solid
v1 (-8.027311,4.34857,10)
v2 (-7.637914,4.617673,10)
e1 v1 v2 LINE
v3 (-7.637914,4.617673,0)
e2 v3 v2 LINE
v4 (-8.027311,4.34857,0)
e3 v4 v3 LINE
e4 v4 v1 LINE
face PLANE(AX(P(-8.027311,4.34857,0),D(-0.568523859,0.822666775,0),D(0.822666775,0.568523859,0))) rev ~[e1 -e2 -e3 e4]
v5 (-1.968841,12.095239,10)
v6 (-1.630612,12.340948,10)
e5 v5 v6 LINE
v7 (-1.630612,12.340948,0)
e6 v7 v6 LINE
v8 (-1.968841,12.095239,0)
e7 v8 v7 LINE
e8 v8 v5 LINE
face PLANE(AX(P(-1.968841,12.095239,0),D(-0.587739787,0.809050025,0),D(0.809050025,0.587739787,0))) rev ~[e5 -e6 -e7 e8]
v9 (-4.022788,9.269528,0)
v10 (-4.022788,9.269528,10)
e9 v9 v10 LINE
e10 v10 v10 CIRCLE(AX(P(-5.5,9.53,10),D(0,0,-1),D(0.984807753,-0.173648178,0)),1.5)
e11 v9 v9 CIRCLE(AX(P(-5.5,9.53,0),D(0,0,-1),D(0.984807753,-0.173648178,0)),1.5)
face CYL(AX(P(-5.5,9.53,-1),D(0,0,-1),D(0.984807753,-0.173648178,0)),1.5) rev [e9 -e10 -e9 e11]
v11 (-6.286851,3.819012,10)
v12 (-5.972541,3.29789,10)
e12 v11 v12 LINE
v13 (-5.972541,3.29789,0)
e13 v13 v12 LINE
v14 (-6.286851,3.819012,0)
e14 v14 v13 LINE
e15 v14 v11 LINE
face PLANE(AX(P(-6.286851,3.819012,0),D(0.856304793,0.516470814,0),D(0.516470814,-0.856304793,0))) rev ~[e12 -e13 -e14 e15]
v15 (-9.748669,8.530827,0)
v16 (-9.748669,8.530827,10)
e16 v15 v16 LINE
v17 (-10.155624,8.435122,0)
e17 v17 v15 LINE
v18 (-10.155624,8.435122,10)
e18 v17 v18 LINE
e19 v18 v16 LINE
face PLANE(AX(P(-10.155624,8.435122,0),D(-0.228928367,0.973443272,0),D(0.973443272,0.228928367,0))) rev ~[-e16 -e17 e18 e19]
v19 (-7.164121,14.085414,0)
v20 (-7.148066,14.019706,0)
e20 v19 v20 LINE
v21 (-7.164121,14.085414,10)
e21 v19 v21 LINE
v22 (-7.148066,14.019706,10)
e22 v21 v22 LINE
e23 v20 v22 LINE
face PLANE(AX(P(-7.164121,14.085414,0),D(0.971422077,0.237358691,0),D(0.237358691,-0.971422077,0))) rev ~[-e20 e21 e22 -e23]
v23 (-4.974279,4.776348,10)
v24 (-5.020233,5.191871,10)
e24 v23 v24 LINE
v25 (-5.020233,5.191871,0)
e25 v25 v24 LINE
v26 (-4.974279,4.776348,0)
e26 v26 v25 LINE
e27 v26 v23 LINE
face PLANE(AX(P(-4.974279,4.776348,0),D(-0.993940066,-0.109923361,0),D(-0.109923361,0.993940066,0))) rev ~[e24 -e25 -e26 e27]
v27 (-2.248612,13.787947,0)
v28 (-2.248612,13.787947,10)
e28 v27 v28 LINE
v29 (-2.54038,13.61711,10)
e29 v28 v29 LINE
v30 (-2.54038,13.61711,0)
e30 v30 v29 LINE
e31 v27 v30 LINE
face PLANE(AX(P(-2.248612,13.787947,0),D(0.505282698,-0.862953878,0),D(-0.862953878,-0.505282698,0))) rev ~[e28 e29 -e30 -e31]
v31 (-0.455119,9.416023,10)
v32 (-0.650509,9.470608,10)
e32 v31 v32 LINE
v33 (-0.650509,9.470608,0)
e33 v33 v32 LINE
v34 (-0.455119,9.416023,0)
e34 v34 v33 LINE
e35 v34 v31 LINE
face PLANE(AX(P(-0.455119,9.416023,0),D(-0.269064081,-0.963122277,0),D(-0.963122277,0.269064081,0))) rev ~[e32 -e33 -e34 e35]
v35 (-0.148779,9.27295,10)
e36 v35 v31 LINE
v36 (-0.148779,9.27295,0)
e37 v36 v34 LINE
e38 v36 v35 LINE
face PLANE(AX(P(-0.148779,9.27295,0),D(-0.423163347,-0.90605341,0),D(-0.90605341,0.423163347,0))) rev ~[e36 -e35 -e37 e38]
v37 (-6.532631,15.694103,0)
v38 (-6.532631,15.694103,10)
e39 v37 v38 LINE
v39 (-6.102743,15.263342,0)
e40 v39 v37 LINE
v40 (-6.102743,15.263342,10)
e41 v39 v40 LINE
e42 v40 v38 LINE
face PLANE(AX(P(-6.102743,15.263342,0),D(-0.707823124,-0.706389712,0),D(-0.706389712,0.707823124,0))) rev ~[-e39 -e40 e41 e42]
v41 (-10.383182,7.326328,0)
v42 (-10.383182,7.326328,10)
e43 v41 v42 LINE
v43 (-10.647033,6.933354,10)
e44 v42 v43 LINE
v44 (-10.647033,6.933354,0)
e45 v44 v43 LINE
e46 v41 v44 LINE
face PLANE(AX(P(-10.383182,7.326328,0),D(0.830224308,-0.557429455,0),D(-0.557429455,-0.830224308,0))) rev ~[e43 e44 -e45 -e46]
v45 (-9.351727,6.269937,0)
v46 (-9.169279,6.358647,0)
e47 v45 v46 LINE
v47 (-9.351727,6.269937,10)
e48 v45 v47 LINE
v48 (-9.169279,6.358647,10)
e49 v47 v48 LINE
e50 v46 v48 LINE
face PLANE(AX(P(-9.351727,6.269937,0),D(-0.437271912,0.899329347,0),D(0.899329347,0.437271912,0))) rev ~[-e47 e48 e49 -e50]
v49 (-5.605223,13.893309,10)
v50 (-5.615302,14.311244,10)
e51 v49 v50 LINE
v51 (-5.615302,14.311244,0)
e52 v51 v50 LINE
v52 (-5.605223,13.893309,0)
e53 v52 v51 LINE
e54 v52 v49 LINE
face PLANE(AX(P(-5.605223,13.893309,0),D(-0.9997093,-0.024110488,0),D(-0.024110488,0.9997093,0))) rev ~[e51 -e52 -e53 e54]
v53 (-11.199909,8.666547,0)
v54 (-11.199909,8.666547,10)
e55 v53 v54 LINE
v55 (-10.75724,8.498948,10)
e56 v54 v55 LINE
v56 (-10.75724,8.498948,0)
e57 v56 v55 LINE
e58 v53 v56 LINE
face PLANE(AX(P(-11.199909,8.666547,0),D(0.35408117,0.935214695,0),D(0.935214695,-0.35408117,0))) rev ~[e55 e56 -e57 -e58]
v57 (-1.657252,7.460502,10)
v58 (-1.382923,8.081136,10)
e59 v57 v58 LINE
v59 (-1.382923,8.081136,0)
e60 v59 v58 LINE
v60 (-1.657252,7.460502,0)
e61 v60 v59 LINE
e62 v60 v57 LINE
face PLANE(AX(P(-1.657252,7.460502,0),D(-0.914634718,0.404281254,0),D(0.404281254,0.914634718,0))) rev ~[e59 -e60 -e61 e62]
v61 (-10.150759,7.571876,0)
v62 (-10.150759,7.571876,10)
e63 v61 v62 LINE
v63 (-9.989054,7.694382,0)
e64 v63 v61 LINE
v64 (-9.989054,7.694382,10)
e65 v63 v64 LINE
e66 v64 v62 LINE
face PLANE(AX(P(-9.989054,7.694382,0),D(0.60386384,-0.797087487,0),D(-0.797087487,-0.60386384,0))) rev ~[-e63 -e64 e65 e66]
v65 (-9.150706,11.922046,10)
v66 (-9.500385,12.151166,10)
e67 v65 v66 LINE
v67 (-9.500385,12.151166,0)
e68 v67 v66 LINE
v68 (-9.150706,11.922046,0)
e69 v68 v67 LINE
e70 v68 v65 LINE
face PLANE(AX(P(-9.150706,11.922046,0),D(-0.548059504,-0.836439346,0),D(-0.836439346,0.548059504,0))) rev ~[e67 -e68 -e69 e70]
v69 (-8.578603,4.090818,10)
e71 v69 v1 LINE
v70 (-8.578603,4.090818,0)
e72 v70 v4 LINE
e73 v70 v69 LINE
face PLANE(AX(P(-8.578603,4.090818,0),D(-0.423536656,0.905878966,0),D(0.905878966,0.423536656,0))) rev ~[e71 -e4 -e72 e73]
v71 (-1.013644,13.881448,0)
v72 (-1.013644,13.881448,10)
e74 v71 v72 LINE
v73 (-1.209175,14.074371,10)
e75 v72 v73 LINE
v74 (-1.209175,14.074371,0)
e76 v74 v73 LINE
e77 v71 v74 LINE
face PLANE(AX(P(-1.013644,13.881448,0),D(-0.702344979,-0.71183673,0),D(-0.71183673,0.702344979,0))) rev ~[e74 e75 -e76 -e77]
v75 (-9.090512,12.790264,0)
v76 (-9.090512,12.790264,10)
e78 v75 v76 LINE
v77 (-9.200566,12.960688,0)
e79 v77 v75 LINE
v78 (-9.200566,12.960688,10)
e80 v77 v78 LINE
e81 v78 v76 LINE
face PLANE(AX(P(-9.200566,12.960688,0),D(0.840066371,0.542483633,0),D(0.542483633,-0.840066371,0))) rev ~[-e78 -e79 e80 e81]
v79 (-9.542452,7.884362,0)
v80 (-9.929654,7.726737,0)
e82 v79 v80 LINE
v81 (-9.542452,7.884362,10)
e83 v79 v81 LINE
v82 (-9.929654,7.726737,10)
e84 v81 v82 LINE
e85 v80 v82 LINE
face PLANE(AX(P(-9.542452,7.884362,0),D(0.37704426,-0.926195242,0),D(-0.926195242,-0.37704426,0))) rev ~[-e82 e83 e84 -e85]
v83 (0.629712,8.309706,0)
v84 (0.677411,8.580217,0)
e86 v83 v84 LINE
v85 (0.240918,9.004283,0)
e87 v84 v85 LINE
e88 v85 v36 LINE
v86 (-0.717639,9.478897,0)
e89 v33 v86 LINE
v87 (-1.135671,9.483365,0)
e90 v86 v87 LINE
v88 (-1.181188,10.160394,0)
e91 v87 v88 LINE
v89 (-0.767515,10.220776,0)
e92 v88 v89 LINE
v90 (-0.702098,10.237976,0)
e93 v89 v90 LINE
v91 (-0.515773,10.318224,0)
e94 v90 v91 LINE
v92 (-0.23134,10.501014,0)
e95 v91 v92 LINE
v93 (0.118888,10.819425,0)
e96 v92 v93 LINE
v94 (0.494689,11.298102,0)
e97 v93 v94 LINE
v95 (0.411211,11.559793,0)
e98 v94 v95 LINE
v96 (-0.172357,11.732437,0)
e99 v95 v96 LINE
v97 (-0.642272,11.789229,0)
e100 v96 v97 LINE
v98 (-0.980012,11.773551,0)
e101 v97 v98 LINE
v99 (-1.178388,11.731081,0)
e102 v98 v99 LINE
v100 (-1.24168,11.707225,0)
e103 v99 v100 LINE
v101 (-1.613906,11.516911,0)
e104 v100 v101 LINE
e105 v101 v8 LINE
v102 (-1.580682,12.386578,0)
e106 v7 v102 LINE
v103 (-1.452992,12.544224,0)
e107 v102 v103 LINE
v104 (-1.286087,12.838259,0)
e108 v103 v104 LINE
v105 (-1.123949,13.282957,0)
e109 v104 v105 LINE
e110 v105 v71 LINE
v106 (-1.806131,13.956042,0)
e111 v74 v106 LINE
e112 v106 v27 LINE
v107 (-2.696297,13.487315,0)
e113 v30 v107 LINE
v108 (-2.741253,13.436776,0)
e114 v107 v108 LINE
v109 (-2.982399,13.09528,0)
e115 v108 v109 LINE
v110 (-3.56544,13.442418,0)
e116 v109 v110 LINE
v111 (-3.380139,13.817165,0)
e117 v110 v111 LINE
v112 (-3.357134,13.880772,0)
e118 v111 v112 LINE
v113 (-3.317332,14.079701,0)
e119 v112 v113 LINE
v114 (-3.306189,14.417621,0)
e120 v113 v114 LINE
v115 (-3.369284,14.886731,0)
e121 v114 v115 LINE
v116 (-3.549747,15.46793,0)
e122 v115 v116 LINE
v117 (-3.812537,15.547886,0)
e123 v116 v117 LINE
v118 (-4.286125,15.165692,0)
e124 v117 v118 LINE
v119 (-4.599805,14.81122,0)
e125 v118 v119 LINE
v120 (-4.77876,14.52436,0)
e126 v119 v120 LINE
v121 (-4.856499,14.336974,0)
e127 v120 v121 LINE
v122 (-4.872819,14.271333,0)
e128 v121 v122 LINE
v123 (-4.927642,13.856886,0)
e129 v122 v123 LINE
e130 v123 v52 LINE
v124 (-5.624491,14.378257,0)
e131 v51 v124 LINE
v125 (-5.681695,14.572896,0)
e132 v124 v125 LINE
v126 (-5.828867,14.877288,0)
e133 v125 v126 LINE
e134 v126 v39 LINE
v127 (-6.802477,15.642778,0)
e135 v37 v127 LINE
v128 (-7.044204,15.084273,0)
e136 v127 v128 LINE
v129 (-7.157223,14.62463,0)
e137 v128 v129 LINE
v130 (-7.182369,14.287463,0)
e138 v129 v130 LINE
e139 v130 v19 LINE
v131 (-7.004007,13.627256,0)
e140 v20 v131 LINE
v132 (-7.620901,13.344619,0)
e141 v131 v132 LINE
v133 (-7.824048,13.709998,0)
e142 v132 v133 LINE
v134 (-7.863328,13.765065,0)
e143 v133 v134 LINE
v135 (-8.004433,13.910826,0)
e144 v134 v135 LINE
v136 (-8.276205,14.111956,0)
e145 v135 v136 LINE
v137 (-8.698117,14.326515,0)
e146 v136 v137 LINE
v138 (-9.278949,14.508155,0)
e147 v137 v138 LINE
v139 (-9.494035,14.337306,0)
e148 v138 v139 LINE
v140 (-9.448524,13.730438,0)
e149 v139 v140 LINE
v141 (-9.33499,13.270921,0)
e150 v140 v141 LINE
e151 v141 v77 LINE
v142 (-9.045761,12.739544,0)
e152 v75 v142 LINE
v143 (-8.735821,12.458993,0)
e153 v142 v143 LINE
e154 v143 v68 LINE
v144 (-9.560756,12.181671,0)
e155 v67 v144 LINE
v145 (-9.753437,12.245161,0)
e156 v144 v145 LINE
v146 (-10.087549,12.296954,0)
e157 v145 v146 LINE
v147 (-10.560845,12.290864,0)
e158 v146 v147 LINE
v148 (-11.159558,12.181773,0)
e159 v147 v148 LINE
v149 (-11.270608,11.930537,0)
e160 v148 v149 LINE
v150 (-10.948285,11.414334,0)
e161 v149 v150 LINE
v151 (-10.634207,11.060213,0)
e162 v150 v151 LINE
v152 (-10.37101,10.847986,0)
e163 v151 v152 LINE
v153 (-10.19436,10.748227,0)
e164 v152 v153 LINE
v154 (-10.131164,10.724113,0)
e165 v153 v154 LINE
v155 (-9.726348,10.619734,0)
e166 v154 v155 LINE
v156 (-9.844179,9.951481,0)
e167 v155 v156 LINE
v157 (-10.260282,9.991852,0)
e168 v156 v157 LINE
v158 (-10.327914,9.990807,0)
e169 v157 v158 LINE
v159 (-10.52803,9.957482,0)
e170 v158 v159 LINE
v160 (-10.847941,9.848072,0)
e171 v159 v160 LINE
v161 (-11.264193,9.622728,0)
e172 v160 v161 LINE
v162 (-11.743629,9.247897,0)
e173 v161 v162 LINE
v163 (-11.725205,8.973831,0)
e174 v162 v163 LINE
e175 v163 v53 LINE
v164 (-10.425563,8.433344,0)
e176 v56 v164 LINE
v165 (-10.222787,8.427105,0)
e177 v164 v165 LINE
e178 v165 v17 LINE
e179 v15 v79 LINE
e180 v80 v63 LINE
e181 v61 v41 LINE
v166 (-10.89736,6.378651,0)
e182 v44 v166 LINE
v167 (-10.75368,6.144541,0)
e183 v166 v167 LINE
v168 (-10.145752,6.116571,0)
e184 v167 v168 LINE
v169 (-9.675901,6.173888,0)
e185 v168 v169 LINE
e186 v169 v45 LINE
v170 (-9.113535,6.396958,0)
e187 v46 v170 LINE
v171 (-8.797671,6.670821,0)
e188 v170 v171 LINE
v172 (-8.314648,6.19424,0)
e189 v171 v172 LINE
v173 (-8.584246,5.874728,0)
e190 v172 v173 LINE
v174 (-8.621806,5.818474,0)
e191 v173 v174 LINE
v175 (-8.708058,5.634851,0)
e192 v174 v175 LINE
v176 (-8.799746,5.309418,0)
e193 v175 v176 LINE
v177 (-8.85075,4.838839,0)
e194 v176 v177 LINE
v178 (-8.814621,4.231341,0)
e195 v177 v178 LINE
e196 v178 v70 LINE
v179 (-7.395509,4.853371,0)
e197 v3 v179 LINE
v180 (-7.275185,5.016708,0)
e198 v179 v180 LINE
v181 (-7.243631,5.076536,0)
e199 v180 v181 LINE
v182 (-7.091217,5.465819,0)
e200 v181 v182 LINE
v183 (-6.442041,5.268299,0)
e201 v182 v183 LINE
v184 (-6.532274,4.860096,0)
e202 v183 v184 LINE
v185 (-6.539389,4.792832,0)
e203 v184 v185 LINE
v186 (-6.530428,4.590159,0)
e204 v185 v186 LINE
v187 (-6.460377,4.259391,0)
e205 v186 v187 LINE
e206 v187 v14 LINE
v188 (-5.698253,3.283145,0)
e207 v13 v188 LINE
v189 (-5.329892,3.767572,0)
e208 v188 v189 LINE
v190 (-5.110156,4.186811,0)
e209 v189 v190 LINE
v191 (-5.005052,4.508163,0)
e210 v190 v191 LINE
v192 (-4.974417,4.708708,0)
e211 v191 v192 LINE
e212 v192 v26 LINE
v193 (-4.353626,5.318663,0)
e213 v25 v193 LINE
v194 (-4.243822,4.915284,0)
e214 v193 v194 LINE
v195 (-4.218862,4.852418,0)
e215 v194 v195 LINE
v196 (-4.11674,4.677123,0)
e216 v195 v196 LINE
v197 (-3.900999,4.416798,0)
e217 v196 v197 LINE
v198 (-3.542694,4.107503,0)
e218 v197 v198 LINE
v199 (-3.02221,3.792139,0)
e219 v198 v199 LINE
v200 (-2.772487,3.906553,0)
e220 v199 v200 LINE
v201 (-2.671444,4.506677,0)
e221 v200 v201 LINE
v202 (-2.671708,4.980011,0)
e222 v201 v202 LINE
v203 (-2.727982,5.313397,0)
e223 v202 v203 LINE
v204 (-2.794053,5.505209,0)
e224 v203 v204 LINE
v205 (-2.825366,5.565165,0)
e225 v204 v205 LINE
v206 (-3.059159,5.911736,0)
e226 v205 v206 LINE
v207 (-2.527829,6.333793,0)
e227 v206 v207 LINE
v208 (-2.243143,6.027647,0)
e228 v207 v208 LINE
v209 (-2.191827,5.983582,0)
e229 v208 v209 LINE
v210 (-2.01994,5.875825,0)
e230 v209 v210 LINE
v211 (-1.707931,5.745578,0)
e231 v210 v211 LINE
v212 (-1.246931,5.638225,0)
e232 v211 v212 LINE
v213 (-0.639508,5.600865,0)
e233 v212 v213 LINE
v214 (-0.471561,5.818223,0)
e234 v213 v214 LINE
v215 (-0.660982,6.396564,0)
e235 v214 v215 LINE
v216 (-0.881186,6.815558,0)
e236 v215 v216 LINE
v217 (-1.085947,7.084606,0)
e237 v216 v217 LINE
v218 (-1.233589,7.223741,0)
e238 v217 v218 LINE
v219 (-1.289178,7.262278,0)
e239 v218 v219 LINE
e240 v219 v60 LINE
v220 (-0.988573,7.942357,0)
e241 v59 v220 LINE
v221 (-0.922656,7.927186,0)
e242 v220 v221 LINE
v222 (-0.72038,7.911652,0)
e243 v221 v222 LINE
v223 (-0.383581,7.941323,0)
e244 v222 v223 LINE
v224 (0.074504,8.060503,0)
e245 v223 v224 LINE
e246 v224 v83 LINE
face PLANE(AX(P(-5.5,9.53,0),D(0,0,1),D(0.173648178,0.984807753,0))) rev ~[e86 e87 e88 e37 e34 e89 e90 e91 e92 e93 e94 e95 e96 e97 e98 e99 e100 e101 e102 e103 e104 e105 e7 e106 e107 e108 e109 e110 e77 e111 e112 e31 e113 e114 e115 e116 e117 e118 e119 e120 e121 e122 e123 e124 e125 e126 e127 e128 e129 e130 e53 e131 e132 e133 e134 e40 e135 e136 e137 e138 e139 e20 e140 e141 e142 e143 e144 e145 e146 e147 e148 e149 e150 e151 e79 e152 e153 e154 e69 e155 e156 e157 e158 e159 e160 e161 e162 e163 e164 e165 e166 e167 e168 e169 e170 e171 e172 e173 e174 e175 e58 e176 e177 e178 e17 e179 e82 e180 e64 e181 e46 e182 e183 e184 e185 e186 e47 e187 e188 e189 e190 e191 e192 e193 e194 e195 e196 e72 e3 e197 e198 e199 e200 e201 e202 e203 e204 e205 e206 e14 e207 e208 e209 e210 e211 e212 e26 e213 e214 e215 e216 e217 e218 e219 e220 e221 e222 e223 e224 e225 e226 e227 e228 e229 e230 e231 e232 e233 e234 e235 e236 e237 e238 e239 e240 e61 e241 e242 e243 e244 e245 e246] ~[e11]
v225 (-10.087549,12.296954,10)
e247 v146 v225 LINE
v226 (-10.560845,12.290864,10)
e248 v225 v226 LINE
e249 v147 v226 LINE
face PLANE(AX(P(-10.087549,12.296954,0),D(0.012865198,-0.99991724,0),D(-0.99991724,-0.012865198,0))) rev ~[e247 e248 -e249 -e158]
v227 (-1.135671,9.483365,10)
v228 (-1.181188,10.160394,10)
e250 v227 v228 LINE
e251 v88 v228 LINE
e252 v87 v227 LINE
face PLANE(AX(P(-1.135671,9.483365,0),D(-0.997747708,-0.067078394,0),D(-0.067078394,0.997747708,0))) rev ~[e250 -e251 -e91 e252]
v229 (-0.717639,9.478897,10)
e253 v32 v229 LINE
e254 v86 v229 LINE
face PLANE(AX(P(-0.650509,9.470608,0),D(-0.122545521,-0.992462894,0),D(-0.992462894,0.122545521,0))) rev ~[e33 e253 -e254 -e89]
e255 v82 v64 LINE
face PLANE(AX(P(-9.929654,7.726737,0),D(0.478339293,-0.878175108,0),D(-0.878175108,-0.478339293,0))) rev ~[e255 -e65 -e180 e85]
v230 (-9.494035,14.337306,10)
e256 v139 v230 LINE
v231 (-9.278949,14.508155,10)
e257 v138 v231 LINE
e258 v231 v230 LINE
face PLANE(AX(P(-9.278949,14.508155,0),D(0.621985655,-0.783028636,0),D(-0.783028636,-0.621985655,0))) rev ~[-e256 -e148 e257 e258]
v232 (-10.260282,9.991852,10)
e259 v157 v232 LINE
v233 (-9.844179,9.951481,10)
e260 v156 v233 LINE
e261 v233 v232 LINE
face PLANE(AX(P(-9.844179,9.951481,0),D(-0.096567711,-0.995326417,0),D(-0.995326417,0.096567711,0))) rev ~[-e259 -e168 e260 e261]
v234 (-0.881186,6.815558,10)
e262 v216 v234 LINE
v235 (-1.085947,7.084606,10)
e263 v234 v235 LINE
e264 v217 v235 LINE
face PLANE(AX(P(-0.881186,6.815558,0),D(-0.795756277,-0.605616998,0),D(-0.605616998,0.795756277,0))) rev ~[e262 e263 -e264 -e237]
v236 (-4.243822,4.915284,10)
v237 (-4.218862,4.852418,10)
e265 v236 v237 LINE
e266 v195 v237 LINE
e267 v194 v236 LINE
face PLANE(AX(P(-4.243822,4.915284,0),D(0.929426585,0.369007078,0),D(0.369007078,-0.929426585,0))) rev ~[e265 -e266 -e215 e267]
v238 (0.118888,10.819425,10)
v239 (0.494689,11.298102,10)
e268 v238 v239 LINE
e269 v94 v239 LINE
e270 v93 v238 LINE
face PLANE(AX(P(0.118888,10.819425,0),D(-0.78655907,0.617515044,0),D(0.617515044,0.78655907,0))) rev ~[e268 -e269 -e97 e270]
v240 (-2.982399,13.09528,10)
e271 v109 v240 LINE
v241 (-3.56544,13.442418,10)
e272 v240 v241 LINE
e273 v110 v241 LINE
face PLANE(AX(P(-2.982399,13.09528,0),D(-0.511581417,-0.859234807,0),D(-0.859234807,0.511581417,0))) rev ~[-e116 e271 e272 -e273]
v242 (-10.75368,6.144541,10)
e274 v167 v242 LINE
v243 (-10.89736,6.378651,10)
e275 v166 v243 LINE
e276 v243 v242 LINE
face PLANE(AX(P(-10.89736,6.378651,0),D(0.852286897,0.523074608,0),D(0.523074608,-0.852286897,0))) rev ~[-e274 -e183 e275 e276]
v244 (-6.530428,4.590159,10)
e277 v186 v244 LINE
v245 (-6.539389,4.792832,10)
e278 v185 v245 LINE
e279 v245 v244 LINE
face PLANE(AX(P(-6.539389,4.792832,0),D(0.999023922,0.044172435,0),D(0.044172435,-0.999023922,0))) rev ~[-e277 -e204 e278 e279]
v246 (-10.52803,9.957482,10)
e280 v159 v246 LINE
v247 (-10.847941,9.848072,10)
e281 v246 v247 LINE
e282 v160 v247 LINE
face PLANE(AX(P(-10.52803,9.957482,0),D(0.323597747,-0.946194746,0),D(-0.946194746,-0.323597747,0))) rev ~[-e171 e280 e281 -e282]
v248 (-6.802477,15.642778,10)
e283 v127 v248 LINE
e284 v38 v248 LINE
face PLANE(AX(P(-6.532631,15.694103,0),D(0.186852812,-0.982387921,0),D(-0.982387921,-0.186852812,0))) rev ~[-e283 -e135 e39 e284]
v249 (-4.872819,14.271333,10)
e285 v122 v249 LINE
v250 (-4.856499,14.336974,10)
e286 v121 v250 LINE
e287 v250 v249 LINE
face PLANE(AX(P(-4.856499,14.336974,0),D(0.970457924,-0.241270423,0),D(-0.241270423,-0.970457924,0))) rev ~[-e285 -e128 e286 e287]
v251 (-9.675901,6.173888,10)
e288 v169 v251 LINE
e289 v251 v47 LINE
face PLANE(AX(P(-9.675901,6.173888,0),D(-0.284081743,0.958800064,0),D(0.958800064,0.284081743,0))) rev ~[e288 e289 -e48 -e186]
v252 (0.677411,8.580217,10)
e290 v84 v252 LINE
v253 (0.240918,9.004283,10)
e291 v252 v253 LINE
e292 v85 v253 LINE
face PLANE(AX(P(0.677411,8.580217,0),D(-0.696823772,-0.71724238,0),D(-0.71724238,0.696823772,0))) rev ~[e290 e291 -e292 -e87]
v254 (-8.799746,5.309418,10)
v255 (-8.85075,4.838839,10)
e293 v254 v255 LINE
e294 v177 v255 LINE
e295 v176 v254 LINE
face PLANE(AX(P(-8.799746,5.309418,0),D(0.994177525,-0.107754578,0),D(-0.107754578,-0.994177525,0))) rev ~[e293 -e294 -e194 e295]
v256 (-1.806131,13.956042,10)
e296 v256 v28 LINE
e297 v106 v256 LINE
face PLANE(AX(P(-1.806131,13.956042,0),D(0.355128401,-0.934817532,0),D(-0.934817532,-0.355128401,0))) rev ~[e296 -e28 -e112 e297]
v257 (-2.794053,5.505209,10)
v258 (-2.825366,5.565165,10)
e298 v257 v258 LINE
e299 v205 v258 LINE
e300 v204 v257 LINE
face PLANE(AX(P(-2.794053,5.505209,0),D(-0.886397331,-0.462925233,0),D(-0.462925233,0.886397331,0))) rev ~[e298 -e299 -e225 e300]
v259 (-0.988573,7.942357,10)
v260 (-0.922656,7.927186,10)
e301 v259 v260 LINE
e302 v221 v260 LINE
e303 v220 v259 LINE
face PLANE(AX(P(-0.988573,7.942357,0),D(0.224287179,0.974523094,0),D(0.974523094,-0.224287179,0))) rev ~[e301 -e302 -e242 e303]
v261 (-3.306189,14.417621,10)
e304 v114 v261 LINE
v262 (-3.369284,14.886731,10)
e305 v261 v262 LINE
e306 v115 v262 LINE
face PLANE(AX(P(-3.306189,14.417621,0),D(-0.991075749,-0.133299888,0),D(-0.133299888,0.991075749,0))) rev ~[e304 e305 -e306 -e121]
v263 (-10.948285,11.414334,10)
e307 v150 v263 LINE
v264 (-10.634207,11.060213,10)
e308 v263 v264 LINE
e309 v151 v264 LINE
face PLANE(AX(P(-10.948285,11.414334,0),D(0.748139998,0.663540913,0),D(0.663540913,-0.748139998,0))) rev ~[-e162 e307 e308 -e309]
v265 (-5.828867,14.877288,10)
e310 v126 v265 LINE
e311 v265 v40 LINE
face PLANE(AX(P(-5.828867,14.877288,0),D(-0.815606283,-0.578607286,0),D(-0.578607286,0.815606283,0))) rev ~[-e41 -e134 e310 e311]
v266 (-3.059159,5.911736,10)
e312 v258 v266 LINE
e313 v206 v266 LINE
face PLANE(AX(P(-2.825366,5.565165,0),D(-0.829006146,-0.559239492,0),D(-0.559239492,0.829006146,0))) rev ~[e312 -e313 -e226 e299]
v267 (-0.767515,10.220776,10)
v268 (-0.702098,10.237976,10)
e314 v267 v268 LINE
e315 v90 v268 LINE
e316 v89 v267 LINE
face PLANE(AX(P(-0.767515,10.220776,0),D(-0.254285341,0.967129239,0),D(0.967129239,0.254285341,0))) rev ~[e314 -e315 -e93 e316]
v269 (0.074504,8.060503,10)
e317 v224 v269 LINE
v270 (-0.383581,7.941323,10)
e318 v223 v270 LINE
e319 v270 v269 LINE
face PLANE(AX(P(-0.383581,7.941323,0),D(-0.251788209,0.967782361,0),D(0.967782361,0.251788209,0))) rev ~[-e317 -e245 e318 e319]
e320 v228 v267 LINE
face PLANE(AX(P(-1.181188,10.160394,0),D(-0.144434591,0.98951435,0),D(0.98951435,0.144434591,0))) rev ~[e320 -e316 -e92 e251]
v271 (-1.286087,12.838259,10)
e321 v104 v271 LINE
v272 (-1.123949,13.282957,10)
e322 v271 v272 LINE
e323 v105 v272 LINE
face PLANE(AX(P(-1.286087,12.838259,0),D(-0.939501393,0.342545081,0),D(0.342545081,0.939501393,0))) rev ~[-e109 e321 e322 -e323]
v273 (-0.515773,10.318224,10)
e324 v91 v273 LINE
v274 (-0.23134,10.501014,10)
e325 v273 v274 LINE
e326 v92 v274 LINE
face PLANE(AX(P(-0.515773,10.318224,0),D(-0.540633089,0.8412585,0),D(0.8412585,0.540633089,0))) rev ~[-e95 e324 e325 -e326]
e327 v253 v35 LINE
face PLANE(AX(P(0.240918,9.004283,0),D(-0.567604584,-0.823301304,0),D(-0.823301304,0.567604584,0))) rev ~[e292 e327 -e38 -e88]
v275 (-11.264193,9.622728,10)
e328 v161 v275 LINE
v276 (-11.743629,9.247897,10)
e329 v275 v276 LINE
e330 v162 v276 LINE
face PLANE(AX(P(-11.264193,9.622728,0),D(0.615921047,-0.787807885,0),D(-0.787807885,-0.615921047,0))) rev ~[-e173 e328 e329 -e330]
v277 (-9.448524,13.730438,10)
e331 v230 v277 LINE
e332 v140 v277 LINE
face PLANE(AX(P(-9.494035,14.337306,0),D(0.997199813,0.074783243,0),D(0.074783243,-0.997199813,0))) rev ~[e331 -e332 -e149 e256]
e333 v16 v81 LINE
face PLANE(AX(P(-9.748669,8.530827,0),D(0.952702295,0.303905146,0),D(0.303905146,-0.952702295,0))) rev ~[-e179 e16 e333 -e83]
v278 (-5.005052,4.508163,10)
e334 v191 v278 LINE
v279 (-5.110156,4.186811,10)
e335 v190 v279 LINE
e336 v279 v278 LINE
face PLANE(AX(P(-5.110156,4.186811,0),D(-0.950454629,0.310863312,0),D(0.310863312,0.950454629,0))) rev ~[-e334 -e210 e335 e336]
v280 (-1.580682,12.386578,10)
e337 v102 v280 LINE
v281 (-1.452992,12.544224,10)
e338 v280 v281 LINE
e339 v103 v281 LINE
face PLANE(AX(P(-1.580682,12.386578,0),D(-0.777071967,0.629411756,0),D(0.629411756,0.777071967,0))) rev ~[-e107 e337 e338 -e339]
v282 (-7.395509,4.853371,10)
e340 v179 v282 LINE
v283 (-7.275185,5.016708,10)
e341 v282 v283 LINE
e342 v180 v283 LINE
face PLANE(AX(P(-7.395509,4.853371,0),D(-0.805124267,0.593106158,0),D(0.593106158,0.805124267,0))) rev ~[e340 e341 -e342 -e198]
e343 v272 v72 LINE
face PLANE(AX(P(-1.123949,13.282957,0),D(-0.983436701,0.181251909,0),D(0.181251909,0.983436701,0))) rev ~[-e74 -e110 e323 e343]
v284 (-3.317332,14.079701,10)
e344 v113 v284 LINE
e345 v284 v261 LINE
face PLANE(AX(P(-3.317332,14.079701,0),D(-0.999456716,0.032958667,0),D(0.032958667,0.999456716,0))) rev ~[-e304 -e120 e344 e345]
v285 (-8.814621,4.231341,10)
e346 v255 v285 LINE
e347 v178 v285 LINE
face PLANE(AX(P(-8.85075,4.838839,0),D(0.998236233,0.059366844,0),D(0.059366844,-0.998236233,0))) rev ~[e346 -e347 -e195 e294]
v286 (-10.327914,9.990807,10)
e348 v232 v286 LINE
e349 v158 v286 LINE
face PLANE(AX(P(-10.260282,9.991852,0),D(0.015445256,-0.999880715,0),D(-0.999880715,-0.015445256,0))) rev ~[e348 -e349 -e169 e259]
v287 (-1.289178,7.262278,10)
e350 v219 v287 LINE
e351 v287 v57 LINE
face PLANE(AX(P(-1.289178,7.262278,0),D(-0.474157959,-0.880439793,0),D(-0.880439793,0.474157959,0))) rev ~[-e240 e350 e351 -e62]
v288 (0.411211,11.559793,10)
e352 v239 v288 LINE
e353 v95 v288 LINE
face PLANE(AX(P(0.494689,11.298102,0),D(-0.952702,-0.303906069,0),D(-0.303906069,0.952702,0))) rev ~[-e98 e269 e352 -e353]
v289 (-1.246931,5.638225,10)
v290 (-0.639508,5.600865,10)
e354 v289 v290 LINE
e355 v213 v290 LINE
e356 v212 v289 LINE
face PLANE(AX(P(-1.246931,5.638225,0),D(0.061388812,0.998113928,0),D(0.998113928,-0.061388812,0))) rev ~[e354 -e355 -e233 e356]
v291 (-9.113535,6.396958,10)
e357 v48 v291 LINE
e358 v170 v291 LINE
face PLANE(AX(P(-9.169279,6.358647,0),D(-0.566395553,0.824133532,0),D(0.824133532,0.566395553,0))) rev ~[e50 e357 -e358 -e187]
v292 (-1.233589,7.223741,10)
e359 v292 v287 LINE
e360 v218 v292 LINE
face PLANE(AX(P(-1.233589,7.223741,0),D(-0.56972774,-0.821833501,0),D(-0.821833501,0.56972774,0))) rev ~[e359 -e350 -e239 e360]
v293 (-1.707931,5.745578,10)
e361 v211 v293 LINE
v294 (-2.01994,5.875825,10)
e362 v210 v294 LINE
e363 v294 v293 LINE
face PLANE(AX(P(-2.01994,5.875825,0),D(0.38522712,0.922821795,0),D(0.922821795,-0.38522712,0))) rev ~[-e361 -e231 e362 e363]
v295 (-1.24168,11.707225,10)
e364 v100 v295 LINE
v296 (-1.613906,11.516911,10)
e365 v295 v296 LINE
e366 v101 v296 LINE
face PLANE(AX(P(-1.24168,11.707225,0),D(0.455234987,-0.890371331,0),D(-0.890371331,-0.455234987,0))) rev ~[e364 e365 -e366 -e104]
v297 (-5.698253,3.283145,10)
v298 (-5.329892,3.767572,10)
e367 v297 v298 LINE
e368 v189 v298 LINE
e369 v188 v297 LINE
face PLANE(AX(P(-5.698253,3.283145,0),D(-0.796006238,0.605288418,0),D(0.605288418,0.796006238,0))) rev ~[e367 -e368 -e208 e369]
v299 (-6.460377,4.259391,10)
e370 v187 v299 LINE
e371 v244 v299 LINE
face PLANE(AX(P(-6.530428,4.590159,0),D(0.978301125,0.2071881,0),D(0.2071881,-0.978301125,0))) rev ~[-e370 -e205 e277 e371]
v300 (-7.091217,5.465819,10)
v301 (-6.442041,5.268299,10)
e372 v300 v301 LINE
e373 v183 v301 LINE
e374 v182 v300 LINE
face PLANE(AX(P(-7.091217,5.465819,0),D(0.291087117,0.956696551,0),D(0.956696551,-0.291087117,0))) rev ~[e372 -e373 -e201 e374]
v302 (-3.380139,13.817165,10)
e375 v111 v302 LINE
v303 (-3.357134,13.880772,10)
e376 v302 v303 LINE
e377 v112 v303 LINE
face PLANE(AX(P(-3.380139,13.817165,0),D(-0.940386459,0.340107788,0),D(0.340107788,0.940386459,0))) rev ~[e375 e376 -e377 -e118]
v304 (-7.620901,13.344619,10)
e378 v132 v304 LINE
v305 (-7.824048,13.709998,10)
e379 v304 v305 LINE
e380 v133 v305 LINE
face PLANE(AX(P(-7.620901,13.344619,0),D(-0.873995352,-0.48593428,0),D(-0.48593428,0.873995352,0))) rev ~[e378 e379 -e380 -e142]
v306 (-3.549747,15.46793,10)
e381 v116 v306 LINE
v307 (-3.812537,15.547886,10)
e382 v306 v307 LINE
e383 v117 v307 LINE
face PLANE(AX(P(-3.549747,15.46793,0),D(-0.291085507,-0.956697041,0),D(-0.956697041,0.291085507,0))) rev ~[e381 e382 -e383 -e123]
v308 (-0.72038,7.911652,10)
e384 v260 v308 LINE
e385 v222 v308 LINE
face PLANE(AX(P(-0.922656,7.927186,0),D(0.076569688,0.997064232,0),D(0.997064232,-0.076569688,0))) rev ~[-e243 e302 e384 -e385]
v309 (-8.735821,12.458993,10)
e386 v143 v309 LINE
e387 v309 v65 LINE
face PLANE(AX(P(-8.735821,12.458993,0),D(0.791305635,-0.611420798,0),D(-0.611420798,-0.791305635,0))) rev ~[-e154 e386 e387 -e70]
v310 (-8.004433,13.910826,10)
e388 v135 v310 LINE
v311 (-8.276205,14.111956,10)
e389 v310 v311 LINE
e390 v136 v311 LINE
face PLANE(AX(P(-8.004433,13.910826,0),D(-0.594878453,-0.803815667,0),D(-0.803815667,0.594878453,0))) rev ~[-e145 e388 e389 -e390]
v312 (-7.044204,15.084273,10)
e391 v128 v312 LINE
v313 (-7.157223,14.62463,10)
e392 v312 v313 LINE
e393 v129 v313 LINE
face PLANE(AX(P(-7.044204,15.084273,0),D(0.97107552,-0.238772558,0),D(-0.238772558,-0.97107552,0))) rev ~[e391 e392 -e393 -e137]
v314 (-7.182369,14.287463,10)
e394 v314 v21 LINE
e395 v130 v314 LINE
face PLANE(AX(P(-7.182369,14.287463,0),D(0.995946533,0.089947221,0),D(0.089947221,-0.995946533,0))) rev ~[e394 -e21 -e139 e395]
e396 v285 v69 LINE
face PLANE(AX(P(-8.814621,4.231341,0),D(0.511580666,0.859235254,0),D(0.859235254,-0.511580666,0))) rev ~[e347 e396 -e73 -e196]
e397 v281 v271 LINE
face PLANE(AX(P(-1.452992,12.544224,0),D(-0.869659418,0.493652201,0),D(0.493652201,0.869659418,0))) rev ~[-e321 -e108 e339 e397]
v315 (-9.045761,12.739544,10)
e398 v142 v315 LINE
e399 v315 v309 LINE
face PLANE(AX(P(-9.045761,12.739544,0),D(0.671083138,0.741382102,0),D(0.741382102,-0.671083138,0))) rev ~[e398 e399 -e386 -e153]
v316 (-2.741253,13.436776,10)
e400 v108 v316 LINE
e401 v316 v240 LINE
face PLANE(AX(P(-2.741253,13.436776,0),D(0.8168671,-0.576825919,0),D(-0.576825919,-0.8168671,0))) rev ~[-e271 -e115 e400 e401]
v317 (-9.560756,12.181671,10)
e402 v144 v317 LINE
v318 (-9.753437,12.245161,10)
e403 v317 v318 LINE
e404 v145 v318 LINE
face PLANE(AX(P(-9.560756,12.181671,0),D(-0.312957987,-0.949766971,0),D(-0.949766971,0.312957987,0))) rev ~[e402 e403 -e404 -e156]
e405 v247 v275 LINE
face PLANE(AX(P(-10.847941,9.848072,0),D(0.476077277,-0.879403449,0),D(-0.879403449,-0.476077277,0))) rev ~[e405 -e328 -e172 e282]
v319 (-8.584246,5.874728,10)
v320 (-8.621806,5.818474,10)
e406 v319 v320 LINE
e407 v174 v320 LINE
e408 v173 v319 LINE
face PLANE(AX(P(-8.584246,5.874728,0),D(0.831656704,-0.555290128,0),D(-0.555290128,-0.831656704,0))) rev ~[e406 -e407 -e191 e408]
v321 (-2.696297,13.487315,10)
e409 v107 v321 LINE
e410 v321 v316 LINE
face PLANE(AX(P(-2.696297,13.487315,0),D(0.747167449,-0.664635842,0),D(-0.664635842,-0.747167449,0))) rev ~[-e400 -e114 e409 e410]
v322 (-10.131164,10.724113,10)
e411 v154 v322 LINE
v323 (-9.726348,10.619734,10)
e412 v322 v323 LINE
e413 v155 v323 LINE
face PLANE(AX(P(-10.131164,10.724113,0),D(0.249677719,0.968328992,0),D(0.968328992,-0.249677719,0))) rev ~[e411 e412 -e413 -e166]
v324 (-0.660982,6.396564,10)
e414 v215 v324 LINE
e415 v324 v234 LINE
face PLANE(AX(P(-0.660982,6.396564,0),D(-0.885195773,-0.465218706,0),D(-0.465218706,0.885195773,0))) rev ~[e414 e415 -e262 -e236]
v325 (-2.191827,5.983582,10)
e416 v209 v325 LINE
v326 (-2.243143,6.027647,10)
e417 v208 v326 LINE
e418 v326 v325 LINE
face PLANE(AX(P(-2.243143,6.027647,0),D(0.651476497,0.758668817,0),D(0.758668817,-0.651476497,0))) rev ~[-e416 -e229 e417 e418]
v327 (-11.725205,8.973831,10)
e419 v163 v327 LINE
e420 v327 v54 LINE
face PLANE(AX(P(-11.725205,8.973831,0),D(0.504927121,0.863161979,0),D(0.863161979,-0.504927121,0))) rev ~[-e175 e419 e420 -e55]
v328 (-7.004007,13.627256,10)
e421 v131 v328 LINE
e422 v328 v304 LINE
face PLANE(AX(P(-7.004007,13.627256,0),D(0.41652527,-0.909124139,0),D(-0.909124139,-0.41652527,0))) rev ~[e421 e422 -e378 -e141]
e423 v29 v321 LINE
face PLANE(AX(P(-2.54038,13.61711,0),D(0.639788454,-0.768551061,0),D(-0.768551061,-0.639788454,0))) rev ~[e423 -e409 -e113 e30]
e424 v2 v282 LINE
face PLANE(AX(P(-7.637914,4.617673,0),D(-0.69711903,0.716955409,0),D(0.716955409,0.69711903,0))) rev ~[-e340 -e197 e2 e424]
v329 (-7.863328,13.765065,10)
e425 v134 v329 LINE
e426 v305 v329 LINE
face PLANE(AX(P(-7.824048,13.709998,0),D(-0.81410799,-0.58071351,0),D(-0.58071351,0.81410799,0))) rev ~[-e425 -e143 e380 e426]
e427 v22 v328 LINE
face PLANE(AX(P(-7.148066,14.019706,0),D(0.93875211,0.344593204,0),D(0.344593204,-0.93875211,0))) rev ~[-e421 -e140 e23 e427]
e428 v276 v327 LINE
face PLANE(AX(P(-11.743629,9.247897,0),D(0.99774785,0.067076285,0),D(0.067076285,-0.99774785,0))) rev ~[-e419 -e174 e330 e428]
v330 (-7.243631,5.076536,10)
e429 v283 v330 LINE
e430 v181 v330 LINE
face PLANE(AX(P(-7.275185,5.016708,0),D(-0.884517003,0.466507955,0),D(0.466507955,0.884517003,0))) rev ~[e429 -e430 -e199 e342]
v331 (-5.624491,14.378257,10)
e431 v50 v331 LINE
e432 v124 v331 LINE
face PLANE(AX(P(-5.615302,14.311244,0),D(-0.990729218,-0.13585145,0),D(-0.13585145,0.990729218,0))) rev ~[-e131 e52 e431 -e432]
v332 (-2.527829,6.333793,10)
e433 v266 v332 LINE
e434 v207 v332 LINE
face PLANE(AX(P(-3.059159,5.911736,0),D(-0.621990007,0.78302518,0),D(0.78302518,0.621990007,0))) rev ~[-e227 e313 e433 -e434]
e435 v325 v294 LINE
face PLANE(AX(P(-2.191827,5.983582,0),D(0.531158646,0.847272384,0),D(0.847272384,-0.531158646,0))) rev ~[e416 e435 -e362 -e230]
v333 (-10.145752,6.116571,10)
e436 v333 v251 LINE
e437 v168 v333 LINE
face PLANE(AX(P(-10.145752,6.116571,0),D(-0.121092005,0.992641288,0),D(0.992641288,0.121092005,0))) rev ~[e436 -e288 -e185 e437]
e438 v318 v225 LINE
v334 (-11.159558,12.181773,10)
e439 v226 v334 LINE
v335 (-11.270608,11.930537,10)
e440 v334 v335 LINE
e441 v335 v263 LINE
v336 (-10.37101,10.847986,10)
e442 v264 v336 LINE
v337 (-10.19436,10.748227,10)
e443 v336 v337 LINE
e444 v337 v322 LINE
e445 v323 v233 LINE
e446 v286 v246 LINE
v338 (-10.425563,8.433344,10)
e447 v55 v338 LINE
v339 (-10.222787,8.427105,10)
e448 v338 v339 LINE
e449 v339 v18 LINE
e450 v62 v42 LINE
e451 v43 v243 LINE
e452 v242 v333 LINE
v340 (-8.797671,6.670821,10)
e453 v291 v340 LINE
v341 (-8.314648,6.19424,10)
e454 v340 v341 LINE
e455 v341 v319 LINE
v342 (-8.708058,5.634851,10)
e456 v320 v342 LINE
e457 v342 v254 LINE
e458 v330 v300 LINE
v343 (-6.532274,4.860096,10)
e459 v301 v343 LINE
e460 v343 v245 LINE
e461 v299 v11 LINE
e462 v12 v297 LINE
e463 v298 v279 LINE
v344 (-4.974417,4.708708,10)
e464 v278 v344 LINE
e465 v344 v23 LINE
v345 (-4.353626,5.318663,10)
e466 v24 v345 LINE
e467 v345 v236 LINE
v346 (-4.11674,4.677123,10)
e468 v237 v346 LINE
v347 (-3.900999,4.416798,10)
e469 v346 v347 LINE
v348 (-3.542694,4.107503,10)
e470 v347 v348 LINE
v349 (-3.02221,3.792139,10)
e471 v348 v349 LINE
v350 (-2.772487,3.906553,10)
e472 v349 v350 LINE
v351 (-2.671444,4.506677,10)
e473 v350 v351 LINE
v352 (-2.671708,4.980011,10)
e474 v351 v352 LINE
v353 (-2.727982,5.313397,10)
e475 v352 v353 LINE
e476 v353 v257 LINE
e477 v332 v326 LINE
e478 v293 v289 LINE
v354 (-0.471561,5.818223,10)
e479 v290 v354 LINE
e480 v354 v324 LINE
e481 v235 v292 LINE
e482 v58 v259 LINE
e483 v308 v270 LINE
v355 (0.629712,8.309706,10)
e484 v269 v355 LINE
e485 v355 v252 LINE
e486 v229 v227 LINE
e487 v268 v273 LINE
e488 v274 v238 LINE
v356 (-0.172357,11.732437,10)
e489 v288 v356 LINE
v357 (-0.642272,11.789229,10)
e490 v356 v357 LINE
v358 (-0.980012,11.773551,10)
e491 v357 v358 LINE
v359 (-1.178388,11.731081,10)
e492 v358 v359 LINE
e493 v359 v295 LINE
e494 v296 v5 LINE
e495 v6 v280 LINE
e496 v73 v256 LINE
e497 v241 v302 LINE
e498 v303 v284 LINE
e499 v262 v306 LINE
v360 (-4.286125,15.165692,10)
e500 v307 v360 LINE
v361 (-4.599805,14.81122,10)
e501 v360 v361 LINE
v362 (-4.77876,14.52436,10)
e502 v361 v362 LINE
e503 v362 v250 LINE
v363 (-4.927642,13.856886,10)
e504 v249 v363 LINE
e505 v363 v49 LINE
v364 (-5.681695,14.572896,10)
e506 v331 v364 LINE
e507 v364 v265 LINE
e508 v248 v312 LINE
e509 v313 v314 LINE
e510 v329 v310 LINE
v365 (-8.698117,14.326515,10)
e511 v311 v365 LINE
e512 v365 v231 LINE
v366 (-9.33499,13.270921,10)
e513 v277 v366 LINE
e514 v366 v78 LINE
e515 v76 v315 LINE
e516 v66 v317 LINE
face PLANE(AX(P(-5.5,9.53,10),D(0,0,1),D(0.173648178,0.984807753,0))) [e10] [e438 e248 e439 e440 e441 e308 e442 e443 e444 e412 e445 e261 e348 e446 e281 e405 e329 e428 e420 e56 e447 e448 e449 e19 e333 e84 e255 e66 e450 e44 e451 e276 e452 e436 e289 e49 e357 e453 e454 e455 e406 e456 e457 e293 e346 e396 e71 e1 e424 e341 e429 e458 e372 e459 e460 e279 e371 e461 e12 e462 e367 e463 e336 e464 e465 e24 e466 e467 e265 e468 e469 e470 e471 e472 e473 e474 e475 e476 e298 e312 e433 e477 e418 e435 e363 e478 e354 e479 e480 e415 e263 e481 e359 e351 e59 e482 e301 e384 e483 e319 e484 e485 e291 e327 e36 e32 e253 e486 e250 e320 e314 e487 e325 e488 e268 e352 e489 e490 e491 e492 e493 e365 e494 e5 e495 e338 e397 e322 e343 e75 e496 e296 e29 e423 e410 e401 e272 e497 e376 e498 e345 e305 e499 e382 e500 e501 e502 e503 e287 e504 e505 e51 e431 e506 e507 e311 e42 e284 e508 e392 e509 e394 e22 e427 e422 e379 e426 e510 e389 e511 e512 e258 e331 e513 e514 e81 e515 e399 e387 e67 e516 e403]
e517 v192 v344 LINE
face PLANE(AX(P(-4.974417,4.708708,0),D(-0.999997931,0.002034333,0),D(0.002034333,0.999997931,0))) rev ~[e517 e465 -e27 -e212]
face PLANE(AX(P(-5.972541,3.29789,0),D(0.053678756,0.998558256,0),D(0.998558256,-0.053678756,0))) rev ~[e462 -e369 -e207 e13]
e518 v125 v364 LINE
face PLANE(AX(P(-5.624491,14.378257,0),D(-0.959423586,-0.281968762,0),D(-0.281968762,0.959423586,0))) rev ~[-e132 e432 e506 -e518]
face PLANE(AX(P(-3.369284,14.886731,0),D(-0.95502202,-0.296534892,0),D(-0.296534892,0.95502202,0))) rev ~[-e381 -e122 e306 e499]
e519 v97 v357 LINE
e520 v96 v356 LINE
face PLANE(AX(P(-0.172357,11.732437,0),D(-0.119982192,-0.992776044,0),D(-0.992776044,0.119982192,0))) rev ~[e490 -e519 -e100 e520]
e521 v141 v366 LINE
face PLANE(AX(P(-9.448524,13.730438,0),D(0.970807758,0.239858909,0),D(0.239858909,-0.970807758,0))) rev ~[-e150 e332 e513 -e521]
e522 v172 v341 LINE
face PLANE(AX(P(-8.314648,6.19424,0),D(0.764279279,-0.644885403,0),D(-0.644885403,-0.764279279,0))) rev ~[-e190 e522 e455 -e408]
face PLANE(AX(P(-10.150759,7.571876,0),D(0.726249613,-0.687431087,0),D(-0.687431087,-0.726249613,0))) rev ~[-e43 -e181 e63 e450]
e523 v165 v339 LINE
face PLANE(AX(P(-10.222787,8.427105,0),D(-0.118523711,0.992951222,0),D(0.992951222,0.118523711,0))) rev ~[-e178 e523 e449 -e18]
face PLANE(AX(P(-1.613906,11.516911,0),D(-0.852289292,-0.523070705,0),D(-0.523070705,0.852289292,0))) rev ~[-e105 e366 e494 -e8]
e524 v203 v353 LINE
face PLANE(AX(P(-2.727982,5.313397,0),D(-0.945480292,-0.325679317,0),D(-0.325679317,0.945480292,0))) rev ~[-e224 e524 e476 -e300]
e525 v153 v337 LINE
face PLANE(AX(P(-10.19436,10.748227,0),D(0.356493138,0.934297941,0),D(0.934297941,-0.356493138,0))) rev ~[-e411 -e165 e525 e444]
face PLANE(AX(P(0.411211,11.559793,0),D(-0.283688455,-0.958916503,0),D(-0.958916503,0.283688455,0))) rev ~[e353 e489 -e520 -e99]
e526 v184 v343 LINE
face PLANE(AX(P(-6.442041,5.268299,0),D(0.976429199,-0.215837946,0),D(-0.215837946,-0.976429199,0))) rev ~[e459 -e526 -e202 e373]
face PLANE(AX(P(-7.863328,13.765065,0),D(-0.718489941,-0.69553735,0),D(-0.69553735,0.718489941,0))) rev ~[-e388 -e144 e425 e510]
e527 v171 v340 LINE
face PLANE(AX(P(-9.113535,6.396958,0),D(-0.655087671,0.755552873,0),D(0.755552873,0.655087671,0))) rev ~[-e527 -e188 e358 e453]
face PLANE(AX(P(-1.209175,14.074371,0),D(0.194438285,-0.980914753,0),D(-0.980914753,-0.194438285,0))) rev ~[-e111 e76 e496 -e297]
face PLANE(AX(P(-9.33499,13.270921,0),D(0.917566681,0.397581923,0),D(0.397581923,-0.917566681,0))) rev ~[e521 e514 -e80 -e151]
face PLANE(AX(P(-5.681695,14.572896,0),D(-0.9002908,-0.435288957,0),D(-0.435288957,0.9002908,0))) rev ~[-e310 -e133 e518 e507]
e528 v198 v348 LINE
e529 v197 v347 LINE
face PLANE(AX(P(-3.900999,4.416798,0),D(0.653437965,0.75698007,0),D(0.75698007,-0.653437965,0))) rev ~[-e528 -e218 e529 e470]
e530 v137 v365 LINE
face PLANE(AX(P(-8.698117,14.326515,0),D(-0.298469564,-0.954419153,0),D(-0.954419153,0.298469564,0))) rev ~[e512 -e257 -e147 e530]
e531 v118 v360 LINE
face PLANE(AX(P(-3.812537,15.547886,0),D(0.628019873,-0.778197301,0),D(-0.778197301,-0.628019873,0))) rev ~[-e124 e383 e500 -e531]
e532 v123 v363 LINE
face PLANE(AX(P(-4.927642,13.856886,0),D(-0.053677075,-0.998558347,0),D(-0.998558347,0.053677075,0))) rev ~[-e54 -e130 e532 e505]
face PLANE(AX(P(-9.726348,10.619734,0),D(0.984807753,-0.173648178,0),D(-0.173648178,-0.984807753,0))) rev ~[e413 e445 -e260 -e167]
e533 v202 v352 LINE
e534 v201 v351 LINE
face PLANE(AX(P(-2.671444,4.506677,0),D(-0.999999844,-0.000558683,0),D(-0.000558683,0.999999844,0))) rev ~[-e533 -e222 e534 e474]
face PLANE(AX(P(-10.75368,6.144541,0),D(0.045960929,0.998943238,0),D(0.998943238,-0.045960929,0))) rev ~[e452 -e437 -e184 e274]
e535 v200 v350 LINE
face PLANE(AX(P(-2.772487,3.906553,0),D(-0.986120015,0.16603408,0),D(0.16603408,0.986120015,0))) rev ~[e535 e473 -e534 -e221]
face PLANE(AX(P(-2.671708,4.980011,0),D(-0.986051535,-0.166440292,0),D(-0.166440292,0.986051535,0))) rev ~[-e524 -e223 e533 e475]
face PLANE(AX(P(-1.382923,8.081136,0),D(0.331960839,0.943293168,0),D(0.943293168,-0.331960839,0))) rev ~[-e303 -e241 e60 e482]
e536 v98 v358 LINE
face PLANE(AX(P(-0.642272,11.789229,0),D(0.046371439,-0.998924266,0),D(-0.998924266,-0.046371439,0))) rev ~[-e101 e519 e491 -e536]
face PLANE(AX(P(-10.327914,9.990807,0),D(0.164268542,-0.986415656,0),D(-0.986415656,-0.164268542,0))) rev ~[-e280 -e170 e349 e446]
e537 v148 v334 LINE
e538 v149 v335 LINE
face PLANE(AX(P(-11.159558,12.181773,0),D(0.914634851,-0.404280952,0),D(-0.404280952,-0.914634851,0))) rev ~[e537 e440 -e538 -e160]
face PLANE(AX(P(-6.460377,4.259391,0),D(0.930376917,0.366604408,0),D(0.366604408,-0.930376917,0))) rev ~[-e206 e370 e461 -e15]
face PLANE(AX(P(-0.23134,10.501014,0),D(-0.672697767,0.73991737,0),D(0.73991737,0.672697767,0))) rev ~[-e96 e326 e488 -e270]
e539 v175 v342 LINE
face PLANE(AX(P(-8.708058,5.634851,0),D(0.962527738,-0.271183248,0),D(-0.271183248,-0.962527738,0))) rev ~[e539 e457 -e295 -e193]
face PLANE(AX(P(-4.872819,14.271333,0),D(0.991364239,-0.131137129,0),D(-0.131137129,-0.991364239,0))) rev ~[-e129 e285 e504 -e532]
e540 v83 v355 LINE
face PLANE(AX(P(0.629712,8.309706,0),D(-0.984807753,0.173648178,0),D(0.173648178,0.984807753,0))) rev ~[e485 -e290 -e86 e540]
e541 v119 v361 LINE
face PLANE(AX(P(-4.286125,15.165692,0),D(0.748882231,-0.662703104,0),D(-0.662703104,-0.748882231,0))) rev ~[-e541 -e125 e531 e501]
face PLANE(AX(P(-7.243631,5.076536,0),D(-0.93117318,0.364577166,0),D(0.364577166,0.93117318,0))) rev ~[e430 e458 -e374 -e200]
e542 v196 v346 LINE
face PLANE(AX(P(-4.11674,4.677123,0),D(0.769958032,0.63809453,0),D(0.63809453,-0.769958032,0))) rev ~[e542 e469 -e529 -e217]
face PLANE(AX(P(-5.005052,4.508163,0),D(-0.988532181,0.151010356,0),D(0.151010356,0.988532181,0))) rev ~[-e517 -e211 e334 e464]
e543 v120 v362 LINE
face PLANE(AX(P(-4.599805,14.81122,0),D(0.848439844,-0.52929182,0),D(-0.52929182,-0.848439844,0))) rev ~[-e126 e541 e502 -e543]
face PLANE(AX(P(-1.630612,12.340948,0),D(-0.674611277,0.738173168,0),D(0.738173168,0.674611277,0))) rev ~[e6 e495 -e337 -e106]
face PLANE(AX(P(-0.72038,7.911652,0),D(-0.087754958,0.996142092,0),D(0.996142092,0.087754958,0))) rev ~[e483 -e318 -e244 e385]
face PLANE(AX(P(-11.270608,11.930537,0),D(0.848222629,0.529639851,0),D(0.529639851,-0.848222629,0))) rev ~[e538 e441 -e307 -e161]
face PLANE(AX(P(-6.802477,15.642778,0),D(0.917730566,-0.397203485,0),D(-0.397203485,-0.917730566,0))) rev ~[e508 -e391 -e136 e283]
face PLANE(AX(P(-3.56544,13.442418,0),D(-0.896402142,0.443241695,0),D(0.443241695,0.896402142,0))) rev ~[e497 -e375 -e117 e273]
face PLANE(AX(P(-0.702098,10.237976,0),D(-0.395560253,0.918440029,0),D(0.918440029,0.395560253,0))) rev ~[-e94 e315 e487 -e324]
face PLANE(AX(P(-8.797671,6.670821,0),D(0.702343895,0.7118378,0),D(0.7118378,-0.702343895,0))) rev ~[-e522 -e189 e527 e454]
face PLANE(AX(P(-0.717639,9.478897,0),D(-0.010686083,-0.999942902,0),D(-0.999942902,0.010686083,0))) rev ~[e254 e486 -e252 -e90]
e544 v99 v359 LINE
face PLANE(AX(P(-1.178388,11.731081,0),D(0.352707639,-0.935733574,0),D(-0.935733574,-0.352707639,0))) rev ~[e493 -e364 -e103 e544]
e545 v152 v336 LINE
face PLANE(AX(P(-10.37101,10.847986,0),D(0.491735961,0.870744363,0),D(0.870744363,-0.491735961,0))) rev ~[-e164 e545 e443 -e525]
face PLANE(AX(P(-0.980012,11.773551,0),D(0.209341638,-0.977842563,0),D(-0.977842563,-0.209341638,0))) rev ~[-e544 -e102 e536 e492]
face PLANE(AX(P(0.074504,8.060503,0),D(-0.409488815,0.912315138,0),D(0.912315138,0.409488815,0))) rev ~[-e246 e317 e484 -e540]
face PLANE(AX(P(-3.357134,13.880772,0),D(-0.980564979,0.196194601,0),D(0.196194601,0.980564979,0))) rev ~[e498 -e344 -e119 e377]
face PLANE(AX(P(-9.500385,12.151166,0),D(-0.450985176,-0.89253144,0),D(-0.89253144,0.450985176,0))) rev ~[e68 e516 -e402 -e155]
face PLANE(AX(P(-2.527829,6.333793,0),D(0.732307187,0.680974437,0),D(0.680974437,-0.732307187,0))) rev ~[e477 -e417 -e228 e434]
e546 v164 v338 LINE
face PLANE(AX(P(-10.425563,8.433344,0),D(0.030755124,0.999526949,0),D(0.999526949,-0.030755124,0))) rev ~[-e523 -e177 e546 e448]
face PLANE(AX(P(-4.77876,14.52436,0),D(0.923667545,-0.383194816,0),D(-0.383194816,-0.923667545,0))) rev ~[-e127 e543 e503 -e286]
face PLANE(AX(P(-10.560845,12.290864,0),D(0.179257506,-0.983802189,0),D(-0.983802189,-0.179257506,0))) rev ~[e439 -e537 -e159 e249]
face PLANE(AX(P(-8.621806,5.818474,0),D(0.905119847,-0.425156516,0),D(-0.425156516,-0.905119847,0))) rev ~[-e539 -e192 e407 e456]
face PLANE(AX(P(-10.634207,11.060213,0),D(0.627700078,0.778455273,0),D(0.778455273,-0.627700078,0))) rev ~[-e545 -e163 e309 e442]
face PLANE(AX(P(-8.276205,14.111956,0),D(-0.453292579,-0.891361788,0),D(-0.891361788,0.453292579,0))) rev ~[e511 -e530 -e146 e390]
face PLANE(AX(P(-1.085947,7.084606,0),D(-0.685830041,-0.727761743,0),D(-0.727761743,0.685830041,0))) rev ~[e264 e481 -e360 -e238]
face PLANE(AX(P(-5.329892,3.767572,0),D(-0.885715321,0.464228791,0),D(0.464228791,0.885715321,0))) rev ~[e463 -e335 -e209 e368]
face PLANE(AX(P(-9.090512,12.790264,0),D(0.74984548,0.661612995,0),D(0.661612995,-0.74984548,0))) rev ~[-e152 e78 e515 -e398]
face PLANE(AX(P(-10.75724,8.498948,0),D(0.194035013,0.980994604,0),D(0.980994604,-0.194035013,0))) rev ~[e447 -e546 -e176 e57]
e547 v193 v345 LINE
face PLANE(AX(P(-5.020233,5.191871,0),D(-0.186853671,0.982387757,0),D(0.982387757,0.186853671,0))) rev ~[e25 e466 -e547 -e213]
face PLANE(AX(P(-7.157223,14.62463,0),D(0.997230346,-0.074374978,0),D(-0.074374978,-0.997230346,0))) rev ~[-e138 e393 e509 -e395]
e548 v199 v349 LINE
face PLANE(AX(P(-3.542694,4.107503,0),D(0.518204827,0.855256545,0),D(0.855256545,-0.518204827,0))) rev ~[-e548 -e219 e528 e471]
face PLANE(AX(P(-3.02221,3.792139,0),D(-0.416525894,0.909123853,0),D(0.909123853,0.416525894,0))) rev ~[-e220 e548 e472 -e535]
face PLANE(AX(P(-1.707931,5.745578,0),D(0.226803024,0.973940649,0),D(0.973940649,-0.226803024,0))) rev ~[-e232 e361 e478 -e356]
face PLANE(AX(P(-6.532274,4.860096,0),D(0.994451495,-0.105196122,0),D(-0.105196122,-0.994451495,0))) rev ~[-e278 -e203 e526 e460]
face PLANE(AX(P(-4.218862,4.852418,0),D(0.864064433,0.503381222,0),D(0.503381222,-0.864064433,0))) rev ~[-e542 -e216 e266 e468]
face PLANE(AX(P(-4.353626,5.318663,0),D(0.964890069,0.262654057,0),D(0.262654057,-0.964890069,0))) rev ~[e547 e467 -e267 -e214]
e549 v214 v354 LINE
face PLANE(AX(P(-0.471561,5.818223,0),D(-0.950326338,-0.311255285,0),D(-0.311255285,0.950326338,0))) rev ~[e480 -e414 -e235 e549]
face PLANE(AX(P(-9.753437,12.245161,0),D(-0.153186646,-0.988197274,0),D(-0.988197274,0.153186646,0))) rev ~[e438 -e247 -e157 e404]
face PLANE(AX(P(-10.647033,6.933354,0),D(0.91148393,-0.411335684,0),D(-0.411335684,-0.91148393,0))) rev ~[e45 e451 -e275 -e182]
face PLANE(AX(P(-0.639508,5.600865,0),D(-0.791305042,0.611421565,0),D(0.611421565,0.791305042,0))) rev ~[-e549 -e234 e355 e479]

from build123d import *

# Parameters (mm, degrees)
CYLINDER006_R                 = 1.5
CYLINDER006_DEPTH             = 12
LINEAREXTRUDE004_DEPTH        = 10
DIFFERENCE005_PLACEMENT_ANGLE = -10


with BuildPart() as cylinder006:
    # cylinder006 → cylinder006 (new body)
    with BuildSketch(Plane.XY.offset(-1)):
        Circle(CYLINDER006_R)
    extrude(amount=CYLINDER006_DEPTH)


with BuildPart() as difference005:
    # union006 → LinearExtrude004 (new body)
    with BuildSketch(Plane(origin=(0, 0, 0), x_dir=(0, 1, 0), z_dir=(0, 0, 1))):
        Polygon((0.711931, -4.306123), (1.370771, -4.143733), (1.502069, -4.540636), (1.530367, -4.602072), (1.641751, -4.771632), (1.871155, -5.020002), (2.245545, -5.309618), (2.782207, -5.596589), (3.025427, -5.468937), (3.094113, -4.864255), (3.068442, -4.391617), (2.994354, -4.061731), (2.918082, -3.873743), (2.883597, -3.815555), (2.631538, -3.482032), (3.139447, -3.032064), (3.440155, -3.322487), (3.493763, -3.363735), (3.671187, -3.46211), (3.989737, -3.575421), (4.455834, -3.657875), (5.064387, -3.662577), (5.220426, -3.436516), (5.000234, -2.869177), (4.757857, -2.462607), (4.53895, -2.204938), (4.384052, -2.073928), (4.326475, -2.038431), (3.948292, -1.860249), (4.188912, -1.225786), (4.590143, -1.343197), (4.656779, -1.354807), (4.859597, -1.359461), (5.194318, -1.311756), (5.645345, -1.168159), (6.186377, -0.889514), (6.219486, -0.616832), (5.76086, -0.216806), (5.357304, 0.030555), (5.043726, 0.156979), (4.845688, 0.200998), (4.77821, 0.205671), (4.36054, 0.187693), (4.278749, 0.861305), (4.688584, 0.943805), (4.752983, 0.964491), (4.934732, 1.054624), (5.208943, 1.252418), (5.541575, 1.58917), (5.891142, 2.087328), (5.793738, 2.344162), (5.201743, 2.485233), (4.729457, 2.516719), (4.393046, 2.482935), (4.197235, 2.429879), (4.135314, 2.402658), (3.773841, 2.192639), (3.388376, 2.751081), (3.712928, 3.01459), (3.760337, 3.062835), (3.879381, 3.227107), (4.030263, 3.529677), (4.168298, 3.982437), (4.246318, 4.585986), (4.040715, 4.768136), (3.45097, 4.617935), (3.018149, 4.426332), (2.735972, 4.240079), (2.587247, 4.102103), (2.545069, 4.049224), (2.322601, 3.695276), (1.721767, 4.010618), (1.886685, 4.394771), (1.906243, 4.459522), (1.93531, 4.6603), (1.928298, 4.99833), (1.840114, 5.463378), (1.628715, 6.034052), (1.362012, 6.099788), (0.909622, 5.692724), (0.61542, 5.321926), (0.452121, 5.025874), (0.384552, 4.834585), (0.371779, 4.768162), (0.339281, 4.351371), (-0.339281, 4.351371), (-0.371779, 4.768162), (-0.384552, 4.834585), (-0.452121, 5.025874), (-0.61542, 5.321926), (-0.909622, 5.692724), (-1.362012, 6.099788), (-1.628715, 6.034052), (-1.840114, 5.463378), (-1.928298, 4.99833), (-1.93531, 4.6603), (-1.906243, 4.459522), (-1.886685, 4.394771), (-1.721767, 4.010618), (-2.322601, 3.695276), (-2.545069, 4.049224), (-2.587247, 4.102103), (-2.735972, 4.240079), (-3.018149, 4.426332), (-3.45097, 4.617935), (-4.040715, 4.768136), (-4.246318, 4.585986), (-4.168298, 3.982437), (-4.030263, 3.529677), (-3.879381, 3.227107), (-3.760337, 3.062835), (-3.712928, 3.01459), (-3.388376, 2.751081), (-3.773841, 2.192638), (-4.135314, 2.402658), (-4.197235, 2.429879), (-4.393046, 2.482935), (-4.729457, 2.516719), (-5.201743, 2.485233), (-5.793738, 2.344162), (-5.891142, 2.087328), (-5.541575, 1.58917), (-5.208943, 1.252418), (-4.934732, 1.054624), (-4.752983, 0.964491), (-4.688584, 0.943805), (-4.278749, 0.861305), (-4.36054, 0.187693), (-4.77821, 0.205671), (-4.845688, 0.200998), (-5.043726, 0.156979), (-5.357304, 0.030555), (-5.76086, -0.216806), (-6.219486, -0.616832), (-6.186377, -0.889514), (-5.645345, -1.168159), (-5.194318, -1.311756), (-4.859597, -1.359461), (-4.656779, -1.354807), (-4.590143, -1.343197), (-4.188912, -1.225786), (-3.948292, -1.860249), (-4.326475, -2.038431), (-4.384052, -2.073928), (-4.53895, -2.204938), (-4.757857, -2.462607), (-5.000234, -2.869177), (-5.220426, -3.436516), (-5.064387, -3.662577), (-4.455834, -3.657875), (-3.989737, -3.575421), (-3.671187, -3.46211), (-3.493763, -3.363735), (-3.440155, -3.322487), (-3.139447, -3.032064), (-2.631537, -3.482032), (-2.883597, -3.815555), (-2.918082, -3.873743), (-2.994354, -4.061731), (-3.068442, -4.391617), (-3.094113, -4.864255), (-3.025427, -5.468937), (-2.782207, -5.596589), (-2.245545, -5.309618), (-1.871155, -5.020002), (-1.641751, -4.771632), (-1.530367, -4.602072), (-1.502069, -4.540636), (-1.370771, -4.143733), (-0.71193, -4.306122), (-0.780122, -4.71858), (-0.783616, -4.78613), (-0.763789, -4.98803), (-0.676085, -5.31456), (-0.47917, -5.74499), (-0.137342, -6.24849), (0.137342, -6.24849), (0.47917, -5.74499), (0.676085, -5.31456), (0.763789, -4.98803), (0.783616, -4.78613), (0.780122, -4.71858), align=None)
    extrude(amount=LINEAREXTRUDE004_DEPTH)

    # difference005: cut cylinder006
    add(cylinder006.part, mode=Mode.SUBTRACT)


with BuildPart() as difference005_1:
    # difference005 placement: moved
    add(difference005.part.moved(Location((-5.5, 9.53, 0))).rotate(Axis((-5.5, 9.53, 0), (0, 0, 1)), DIFFERENCE005_PLACEMENT_ANGLE))


solid = difference005_1.part
